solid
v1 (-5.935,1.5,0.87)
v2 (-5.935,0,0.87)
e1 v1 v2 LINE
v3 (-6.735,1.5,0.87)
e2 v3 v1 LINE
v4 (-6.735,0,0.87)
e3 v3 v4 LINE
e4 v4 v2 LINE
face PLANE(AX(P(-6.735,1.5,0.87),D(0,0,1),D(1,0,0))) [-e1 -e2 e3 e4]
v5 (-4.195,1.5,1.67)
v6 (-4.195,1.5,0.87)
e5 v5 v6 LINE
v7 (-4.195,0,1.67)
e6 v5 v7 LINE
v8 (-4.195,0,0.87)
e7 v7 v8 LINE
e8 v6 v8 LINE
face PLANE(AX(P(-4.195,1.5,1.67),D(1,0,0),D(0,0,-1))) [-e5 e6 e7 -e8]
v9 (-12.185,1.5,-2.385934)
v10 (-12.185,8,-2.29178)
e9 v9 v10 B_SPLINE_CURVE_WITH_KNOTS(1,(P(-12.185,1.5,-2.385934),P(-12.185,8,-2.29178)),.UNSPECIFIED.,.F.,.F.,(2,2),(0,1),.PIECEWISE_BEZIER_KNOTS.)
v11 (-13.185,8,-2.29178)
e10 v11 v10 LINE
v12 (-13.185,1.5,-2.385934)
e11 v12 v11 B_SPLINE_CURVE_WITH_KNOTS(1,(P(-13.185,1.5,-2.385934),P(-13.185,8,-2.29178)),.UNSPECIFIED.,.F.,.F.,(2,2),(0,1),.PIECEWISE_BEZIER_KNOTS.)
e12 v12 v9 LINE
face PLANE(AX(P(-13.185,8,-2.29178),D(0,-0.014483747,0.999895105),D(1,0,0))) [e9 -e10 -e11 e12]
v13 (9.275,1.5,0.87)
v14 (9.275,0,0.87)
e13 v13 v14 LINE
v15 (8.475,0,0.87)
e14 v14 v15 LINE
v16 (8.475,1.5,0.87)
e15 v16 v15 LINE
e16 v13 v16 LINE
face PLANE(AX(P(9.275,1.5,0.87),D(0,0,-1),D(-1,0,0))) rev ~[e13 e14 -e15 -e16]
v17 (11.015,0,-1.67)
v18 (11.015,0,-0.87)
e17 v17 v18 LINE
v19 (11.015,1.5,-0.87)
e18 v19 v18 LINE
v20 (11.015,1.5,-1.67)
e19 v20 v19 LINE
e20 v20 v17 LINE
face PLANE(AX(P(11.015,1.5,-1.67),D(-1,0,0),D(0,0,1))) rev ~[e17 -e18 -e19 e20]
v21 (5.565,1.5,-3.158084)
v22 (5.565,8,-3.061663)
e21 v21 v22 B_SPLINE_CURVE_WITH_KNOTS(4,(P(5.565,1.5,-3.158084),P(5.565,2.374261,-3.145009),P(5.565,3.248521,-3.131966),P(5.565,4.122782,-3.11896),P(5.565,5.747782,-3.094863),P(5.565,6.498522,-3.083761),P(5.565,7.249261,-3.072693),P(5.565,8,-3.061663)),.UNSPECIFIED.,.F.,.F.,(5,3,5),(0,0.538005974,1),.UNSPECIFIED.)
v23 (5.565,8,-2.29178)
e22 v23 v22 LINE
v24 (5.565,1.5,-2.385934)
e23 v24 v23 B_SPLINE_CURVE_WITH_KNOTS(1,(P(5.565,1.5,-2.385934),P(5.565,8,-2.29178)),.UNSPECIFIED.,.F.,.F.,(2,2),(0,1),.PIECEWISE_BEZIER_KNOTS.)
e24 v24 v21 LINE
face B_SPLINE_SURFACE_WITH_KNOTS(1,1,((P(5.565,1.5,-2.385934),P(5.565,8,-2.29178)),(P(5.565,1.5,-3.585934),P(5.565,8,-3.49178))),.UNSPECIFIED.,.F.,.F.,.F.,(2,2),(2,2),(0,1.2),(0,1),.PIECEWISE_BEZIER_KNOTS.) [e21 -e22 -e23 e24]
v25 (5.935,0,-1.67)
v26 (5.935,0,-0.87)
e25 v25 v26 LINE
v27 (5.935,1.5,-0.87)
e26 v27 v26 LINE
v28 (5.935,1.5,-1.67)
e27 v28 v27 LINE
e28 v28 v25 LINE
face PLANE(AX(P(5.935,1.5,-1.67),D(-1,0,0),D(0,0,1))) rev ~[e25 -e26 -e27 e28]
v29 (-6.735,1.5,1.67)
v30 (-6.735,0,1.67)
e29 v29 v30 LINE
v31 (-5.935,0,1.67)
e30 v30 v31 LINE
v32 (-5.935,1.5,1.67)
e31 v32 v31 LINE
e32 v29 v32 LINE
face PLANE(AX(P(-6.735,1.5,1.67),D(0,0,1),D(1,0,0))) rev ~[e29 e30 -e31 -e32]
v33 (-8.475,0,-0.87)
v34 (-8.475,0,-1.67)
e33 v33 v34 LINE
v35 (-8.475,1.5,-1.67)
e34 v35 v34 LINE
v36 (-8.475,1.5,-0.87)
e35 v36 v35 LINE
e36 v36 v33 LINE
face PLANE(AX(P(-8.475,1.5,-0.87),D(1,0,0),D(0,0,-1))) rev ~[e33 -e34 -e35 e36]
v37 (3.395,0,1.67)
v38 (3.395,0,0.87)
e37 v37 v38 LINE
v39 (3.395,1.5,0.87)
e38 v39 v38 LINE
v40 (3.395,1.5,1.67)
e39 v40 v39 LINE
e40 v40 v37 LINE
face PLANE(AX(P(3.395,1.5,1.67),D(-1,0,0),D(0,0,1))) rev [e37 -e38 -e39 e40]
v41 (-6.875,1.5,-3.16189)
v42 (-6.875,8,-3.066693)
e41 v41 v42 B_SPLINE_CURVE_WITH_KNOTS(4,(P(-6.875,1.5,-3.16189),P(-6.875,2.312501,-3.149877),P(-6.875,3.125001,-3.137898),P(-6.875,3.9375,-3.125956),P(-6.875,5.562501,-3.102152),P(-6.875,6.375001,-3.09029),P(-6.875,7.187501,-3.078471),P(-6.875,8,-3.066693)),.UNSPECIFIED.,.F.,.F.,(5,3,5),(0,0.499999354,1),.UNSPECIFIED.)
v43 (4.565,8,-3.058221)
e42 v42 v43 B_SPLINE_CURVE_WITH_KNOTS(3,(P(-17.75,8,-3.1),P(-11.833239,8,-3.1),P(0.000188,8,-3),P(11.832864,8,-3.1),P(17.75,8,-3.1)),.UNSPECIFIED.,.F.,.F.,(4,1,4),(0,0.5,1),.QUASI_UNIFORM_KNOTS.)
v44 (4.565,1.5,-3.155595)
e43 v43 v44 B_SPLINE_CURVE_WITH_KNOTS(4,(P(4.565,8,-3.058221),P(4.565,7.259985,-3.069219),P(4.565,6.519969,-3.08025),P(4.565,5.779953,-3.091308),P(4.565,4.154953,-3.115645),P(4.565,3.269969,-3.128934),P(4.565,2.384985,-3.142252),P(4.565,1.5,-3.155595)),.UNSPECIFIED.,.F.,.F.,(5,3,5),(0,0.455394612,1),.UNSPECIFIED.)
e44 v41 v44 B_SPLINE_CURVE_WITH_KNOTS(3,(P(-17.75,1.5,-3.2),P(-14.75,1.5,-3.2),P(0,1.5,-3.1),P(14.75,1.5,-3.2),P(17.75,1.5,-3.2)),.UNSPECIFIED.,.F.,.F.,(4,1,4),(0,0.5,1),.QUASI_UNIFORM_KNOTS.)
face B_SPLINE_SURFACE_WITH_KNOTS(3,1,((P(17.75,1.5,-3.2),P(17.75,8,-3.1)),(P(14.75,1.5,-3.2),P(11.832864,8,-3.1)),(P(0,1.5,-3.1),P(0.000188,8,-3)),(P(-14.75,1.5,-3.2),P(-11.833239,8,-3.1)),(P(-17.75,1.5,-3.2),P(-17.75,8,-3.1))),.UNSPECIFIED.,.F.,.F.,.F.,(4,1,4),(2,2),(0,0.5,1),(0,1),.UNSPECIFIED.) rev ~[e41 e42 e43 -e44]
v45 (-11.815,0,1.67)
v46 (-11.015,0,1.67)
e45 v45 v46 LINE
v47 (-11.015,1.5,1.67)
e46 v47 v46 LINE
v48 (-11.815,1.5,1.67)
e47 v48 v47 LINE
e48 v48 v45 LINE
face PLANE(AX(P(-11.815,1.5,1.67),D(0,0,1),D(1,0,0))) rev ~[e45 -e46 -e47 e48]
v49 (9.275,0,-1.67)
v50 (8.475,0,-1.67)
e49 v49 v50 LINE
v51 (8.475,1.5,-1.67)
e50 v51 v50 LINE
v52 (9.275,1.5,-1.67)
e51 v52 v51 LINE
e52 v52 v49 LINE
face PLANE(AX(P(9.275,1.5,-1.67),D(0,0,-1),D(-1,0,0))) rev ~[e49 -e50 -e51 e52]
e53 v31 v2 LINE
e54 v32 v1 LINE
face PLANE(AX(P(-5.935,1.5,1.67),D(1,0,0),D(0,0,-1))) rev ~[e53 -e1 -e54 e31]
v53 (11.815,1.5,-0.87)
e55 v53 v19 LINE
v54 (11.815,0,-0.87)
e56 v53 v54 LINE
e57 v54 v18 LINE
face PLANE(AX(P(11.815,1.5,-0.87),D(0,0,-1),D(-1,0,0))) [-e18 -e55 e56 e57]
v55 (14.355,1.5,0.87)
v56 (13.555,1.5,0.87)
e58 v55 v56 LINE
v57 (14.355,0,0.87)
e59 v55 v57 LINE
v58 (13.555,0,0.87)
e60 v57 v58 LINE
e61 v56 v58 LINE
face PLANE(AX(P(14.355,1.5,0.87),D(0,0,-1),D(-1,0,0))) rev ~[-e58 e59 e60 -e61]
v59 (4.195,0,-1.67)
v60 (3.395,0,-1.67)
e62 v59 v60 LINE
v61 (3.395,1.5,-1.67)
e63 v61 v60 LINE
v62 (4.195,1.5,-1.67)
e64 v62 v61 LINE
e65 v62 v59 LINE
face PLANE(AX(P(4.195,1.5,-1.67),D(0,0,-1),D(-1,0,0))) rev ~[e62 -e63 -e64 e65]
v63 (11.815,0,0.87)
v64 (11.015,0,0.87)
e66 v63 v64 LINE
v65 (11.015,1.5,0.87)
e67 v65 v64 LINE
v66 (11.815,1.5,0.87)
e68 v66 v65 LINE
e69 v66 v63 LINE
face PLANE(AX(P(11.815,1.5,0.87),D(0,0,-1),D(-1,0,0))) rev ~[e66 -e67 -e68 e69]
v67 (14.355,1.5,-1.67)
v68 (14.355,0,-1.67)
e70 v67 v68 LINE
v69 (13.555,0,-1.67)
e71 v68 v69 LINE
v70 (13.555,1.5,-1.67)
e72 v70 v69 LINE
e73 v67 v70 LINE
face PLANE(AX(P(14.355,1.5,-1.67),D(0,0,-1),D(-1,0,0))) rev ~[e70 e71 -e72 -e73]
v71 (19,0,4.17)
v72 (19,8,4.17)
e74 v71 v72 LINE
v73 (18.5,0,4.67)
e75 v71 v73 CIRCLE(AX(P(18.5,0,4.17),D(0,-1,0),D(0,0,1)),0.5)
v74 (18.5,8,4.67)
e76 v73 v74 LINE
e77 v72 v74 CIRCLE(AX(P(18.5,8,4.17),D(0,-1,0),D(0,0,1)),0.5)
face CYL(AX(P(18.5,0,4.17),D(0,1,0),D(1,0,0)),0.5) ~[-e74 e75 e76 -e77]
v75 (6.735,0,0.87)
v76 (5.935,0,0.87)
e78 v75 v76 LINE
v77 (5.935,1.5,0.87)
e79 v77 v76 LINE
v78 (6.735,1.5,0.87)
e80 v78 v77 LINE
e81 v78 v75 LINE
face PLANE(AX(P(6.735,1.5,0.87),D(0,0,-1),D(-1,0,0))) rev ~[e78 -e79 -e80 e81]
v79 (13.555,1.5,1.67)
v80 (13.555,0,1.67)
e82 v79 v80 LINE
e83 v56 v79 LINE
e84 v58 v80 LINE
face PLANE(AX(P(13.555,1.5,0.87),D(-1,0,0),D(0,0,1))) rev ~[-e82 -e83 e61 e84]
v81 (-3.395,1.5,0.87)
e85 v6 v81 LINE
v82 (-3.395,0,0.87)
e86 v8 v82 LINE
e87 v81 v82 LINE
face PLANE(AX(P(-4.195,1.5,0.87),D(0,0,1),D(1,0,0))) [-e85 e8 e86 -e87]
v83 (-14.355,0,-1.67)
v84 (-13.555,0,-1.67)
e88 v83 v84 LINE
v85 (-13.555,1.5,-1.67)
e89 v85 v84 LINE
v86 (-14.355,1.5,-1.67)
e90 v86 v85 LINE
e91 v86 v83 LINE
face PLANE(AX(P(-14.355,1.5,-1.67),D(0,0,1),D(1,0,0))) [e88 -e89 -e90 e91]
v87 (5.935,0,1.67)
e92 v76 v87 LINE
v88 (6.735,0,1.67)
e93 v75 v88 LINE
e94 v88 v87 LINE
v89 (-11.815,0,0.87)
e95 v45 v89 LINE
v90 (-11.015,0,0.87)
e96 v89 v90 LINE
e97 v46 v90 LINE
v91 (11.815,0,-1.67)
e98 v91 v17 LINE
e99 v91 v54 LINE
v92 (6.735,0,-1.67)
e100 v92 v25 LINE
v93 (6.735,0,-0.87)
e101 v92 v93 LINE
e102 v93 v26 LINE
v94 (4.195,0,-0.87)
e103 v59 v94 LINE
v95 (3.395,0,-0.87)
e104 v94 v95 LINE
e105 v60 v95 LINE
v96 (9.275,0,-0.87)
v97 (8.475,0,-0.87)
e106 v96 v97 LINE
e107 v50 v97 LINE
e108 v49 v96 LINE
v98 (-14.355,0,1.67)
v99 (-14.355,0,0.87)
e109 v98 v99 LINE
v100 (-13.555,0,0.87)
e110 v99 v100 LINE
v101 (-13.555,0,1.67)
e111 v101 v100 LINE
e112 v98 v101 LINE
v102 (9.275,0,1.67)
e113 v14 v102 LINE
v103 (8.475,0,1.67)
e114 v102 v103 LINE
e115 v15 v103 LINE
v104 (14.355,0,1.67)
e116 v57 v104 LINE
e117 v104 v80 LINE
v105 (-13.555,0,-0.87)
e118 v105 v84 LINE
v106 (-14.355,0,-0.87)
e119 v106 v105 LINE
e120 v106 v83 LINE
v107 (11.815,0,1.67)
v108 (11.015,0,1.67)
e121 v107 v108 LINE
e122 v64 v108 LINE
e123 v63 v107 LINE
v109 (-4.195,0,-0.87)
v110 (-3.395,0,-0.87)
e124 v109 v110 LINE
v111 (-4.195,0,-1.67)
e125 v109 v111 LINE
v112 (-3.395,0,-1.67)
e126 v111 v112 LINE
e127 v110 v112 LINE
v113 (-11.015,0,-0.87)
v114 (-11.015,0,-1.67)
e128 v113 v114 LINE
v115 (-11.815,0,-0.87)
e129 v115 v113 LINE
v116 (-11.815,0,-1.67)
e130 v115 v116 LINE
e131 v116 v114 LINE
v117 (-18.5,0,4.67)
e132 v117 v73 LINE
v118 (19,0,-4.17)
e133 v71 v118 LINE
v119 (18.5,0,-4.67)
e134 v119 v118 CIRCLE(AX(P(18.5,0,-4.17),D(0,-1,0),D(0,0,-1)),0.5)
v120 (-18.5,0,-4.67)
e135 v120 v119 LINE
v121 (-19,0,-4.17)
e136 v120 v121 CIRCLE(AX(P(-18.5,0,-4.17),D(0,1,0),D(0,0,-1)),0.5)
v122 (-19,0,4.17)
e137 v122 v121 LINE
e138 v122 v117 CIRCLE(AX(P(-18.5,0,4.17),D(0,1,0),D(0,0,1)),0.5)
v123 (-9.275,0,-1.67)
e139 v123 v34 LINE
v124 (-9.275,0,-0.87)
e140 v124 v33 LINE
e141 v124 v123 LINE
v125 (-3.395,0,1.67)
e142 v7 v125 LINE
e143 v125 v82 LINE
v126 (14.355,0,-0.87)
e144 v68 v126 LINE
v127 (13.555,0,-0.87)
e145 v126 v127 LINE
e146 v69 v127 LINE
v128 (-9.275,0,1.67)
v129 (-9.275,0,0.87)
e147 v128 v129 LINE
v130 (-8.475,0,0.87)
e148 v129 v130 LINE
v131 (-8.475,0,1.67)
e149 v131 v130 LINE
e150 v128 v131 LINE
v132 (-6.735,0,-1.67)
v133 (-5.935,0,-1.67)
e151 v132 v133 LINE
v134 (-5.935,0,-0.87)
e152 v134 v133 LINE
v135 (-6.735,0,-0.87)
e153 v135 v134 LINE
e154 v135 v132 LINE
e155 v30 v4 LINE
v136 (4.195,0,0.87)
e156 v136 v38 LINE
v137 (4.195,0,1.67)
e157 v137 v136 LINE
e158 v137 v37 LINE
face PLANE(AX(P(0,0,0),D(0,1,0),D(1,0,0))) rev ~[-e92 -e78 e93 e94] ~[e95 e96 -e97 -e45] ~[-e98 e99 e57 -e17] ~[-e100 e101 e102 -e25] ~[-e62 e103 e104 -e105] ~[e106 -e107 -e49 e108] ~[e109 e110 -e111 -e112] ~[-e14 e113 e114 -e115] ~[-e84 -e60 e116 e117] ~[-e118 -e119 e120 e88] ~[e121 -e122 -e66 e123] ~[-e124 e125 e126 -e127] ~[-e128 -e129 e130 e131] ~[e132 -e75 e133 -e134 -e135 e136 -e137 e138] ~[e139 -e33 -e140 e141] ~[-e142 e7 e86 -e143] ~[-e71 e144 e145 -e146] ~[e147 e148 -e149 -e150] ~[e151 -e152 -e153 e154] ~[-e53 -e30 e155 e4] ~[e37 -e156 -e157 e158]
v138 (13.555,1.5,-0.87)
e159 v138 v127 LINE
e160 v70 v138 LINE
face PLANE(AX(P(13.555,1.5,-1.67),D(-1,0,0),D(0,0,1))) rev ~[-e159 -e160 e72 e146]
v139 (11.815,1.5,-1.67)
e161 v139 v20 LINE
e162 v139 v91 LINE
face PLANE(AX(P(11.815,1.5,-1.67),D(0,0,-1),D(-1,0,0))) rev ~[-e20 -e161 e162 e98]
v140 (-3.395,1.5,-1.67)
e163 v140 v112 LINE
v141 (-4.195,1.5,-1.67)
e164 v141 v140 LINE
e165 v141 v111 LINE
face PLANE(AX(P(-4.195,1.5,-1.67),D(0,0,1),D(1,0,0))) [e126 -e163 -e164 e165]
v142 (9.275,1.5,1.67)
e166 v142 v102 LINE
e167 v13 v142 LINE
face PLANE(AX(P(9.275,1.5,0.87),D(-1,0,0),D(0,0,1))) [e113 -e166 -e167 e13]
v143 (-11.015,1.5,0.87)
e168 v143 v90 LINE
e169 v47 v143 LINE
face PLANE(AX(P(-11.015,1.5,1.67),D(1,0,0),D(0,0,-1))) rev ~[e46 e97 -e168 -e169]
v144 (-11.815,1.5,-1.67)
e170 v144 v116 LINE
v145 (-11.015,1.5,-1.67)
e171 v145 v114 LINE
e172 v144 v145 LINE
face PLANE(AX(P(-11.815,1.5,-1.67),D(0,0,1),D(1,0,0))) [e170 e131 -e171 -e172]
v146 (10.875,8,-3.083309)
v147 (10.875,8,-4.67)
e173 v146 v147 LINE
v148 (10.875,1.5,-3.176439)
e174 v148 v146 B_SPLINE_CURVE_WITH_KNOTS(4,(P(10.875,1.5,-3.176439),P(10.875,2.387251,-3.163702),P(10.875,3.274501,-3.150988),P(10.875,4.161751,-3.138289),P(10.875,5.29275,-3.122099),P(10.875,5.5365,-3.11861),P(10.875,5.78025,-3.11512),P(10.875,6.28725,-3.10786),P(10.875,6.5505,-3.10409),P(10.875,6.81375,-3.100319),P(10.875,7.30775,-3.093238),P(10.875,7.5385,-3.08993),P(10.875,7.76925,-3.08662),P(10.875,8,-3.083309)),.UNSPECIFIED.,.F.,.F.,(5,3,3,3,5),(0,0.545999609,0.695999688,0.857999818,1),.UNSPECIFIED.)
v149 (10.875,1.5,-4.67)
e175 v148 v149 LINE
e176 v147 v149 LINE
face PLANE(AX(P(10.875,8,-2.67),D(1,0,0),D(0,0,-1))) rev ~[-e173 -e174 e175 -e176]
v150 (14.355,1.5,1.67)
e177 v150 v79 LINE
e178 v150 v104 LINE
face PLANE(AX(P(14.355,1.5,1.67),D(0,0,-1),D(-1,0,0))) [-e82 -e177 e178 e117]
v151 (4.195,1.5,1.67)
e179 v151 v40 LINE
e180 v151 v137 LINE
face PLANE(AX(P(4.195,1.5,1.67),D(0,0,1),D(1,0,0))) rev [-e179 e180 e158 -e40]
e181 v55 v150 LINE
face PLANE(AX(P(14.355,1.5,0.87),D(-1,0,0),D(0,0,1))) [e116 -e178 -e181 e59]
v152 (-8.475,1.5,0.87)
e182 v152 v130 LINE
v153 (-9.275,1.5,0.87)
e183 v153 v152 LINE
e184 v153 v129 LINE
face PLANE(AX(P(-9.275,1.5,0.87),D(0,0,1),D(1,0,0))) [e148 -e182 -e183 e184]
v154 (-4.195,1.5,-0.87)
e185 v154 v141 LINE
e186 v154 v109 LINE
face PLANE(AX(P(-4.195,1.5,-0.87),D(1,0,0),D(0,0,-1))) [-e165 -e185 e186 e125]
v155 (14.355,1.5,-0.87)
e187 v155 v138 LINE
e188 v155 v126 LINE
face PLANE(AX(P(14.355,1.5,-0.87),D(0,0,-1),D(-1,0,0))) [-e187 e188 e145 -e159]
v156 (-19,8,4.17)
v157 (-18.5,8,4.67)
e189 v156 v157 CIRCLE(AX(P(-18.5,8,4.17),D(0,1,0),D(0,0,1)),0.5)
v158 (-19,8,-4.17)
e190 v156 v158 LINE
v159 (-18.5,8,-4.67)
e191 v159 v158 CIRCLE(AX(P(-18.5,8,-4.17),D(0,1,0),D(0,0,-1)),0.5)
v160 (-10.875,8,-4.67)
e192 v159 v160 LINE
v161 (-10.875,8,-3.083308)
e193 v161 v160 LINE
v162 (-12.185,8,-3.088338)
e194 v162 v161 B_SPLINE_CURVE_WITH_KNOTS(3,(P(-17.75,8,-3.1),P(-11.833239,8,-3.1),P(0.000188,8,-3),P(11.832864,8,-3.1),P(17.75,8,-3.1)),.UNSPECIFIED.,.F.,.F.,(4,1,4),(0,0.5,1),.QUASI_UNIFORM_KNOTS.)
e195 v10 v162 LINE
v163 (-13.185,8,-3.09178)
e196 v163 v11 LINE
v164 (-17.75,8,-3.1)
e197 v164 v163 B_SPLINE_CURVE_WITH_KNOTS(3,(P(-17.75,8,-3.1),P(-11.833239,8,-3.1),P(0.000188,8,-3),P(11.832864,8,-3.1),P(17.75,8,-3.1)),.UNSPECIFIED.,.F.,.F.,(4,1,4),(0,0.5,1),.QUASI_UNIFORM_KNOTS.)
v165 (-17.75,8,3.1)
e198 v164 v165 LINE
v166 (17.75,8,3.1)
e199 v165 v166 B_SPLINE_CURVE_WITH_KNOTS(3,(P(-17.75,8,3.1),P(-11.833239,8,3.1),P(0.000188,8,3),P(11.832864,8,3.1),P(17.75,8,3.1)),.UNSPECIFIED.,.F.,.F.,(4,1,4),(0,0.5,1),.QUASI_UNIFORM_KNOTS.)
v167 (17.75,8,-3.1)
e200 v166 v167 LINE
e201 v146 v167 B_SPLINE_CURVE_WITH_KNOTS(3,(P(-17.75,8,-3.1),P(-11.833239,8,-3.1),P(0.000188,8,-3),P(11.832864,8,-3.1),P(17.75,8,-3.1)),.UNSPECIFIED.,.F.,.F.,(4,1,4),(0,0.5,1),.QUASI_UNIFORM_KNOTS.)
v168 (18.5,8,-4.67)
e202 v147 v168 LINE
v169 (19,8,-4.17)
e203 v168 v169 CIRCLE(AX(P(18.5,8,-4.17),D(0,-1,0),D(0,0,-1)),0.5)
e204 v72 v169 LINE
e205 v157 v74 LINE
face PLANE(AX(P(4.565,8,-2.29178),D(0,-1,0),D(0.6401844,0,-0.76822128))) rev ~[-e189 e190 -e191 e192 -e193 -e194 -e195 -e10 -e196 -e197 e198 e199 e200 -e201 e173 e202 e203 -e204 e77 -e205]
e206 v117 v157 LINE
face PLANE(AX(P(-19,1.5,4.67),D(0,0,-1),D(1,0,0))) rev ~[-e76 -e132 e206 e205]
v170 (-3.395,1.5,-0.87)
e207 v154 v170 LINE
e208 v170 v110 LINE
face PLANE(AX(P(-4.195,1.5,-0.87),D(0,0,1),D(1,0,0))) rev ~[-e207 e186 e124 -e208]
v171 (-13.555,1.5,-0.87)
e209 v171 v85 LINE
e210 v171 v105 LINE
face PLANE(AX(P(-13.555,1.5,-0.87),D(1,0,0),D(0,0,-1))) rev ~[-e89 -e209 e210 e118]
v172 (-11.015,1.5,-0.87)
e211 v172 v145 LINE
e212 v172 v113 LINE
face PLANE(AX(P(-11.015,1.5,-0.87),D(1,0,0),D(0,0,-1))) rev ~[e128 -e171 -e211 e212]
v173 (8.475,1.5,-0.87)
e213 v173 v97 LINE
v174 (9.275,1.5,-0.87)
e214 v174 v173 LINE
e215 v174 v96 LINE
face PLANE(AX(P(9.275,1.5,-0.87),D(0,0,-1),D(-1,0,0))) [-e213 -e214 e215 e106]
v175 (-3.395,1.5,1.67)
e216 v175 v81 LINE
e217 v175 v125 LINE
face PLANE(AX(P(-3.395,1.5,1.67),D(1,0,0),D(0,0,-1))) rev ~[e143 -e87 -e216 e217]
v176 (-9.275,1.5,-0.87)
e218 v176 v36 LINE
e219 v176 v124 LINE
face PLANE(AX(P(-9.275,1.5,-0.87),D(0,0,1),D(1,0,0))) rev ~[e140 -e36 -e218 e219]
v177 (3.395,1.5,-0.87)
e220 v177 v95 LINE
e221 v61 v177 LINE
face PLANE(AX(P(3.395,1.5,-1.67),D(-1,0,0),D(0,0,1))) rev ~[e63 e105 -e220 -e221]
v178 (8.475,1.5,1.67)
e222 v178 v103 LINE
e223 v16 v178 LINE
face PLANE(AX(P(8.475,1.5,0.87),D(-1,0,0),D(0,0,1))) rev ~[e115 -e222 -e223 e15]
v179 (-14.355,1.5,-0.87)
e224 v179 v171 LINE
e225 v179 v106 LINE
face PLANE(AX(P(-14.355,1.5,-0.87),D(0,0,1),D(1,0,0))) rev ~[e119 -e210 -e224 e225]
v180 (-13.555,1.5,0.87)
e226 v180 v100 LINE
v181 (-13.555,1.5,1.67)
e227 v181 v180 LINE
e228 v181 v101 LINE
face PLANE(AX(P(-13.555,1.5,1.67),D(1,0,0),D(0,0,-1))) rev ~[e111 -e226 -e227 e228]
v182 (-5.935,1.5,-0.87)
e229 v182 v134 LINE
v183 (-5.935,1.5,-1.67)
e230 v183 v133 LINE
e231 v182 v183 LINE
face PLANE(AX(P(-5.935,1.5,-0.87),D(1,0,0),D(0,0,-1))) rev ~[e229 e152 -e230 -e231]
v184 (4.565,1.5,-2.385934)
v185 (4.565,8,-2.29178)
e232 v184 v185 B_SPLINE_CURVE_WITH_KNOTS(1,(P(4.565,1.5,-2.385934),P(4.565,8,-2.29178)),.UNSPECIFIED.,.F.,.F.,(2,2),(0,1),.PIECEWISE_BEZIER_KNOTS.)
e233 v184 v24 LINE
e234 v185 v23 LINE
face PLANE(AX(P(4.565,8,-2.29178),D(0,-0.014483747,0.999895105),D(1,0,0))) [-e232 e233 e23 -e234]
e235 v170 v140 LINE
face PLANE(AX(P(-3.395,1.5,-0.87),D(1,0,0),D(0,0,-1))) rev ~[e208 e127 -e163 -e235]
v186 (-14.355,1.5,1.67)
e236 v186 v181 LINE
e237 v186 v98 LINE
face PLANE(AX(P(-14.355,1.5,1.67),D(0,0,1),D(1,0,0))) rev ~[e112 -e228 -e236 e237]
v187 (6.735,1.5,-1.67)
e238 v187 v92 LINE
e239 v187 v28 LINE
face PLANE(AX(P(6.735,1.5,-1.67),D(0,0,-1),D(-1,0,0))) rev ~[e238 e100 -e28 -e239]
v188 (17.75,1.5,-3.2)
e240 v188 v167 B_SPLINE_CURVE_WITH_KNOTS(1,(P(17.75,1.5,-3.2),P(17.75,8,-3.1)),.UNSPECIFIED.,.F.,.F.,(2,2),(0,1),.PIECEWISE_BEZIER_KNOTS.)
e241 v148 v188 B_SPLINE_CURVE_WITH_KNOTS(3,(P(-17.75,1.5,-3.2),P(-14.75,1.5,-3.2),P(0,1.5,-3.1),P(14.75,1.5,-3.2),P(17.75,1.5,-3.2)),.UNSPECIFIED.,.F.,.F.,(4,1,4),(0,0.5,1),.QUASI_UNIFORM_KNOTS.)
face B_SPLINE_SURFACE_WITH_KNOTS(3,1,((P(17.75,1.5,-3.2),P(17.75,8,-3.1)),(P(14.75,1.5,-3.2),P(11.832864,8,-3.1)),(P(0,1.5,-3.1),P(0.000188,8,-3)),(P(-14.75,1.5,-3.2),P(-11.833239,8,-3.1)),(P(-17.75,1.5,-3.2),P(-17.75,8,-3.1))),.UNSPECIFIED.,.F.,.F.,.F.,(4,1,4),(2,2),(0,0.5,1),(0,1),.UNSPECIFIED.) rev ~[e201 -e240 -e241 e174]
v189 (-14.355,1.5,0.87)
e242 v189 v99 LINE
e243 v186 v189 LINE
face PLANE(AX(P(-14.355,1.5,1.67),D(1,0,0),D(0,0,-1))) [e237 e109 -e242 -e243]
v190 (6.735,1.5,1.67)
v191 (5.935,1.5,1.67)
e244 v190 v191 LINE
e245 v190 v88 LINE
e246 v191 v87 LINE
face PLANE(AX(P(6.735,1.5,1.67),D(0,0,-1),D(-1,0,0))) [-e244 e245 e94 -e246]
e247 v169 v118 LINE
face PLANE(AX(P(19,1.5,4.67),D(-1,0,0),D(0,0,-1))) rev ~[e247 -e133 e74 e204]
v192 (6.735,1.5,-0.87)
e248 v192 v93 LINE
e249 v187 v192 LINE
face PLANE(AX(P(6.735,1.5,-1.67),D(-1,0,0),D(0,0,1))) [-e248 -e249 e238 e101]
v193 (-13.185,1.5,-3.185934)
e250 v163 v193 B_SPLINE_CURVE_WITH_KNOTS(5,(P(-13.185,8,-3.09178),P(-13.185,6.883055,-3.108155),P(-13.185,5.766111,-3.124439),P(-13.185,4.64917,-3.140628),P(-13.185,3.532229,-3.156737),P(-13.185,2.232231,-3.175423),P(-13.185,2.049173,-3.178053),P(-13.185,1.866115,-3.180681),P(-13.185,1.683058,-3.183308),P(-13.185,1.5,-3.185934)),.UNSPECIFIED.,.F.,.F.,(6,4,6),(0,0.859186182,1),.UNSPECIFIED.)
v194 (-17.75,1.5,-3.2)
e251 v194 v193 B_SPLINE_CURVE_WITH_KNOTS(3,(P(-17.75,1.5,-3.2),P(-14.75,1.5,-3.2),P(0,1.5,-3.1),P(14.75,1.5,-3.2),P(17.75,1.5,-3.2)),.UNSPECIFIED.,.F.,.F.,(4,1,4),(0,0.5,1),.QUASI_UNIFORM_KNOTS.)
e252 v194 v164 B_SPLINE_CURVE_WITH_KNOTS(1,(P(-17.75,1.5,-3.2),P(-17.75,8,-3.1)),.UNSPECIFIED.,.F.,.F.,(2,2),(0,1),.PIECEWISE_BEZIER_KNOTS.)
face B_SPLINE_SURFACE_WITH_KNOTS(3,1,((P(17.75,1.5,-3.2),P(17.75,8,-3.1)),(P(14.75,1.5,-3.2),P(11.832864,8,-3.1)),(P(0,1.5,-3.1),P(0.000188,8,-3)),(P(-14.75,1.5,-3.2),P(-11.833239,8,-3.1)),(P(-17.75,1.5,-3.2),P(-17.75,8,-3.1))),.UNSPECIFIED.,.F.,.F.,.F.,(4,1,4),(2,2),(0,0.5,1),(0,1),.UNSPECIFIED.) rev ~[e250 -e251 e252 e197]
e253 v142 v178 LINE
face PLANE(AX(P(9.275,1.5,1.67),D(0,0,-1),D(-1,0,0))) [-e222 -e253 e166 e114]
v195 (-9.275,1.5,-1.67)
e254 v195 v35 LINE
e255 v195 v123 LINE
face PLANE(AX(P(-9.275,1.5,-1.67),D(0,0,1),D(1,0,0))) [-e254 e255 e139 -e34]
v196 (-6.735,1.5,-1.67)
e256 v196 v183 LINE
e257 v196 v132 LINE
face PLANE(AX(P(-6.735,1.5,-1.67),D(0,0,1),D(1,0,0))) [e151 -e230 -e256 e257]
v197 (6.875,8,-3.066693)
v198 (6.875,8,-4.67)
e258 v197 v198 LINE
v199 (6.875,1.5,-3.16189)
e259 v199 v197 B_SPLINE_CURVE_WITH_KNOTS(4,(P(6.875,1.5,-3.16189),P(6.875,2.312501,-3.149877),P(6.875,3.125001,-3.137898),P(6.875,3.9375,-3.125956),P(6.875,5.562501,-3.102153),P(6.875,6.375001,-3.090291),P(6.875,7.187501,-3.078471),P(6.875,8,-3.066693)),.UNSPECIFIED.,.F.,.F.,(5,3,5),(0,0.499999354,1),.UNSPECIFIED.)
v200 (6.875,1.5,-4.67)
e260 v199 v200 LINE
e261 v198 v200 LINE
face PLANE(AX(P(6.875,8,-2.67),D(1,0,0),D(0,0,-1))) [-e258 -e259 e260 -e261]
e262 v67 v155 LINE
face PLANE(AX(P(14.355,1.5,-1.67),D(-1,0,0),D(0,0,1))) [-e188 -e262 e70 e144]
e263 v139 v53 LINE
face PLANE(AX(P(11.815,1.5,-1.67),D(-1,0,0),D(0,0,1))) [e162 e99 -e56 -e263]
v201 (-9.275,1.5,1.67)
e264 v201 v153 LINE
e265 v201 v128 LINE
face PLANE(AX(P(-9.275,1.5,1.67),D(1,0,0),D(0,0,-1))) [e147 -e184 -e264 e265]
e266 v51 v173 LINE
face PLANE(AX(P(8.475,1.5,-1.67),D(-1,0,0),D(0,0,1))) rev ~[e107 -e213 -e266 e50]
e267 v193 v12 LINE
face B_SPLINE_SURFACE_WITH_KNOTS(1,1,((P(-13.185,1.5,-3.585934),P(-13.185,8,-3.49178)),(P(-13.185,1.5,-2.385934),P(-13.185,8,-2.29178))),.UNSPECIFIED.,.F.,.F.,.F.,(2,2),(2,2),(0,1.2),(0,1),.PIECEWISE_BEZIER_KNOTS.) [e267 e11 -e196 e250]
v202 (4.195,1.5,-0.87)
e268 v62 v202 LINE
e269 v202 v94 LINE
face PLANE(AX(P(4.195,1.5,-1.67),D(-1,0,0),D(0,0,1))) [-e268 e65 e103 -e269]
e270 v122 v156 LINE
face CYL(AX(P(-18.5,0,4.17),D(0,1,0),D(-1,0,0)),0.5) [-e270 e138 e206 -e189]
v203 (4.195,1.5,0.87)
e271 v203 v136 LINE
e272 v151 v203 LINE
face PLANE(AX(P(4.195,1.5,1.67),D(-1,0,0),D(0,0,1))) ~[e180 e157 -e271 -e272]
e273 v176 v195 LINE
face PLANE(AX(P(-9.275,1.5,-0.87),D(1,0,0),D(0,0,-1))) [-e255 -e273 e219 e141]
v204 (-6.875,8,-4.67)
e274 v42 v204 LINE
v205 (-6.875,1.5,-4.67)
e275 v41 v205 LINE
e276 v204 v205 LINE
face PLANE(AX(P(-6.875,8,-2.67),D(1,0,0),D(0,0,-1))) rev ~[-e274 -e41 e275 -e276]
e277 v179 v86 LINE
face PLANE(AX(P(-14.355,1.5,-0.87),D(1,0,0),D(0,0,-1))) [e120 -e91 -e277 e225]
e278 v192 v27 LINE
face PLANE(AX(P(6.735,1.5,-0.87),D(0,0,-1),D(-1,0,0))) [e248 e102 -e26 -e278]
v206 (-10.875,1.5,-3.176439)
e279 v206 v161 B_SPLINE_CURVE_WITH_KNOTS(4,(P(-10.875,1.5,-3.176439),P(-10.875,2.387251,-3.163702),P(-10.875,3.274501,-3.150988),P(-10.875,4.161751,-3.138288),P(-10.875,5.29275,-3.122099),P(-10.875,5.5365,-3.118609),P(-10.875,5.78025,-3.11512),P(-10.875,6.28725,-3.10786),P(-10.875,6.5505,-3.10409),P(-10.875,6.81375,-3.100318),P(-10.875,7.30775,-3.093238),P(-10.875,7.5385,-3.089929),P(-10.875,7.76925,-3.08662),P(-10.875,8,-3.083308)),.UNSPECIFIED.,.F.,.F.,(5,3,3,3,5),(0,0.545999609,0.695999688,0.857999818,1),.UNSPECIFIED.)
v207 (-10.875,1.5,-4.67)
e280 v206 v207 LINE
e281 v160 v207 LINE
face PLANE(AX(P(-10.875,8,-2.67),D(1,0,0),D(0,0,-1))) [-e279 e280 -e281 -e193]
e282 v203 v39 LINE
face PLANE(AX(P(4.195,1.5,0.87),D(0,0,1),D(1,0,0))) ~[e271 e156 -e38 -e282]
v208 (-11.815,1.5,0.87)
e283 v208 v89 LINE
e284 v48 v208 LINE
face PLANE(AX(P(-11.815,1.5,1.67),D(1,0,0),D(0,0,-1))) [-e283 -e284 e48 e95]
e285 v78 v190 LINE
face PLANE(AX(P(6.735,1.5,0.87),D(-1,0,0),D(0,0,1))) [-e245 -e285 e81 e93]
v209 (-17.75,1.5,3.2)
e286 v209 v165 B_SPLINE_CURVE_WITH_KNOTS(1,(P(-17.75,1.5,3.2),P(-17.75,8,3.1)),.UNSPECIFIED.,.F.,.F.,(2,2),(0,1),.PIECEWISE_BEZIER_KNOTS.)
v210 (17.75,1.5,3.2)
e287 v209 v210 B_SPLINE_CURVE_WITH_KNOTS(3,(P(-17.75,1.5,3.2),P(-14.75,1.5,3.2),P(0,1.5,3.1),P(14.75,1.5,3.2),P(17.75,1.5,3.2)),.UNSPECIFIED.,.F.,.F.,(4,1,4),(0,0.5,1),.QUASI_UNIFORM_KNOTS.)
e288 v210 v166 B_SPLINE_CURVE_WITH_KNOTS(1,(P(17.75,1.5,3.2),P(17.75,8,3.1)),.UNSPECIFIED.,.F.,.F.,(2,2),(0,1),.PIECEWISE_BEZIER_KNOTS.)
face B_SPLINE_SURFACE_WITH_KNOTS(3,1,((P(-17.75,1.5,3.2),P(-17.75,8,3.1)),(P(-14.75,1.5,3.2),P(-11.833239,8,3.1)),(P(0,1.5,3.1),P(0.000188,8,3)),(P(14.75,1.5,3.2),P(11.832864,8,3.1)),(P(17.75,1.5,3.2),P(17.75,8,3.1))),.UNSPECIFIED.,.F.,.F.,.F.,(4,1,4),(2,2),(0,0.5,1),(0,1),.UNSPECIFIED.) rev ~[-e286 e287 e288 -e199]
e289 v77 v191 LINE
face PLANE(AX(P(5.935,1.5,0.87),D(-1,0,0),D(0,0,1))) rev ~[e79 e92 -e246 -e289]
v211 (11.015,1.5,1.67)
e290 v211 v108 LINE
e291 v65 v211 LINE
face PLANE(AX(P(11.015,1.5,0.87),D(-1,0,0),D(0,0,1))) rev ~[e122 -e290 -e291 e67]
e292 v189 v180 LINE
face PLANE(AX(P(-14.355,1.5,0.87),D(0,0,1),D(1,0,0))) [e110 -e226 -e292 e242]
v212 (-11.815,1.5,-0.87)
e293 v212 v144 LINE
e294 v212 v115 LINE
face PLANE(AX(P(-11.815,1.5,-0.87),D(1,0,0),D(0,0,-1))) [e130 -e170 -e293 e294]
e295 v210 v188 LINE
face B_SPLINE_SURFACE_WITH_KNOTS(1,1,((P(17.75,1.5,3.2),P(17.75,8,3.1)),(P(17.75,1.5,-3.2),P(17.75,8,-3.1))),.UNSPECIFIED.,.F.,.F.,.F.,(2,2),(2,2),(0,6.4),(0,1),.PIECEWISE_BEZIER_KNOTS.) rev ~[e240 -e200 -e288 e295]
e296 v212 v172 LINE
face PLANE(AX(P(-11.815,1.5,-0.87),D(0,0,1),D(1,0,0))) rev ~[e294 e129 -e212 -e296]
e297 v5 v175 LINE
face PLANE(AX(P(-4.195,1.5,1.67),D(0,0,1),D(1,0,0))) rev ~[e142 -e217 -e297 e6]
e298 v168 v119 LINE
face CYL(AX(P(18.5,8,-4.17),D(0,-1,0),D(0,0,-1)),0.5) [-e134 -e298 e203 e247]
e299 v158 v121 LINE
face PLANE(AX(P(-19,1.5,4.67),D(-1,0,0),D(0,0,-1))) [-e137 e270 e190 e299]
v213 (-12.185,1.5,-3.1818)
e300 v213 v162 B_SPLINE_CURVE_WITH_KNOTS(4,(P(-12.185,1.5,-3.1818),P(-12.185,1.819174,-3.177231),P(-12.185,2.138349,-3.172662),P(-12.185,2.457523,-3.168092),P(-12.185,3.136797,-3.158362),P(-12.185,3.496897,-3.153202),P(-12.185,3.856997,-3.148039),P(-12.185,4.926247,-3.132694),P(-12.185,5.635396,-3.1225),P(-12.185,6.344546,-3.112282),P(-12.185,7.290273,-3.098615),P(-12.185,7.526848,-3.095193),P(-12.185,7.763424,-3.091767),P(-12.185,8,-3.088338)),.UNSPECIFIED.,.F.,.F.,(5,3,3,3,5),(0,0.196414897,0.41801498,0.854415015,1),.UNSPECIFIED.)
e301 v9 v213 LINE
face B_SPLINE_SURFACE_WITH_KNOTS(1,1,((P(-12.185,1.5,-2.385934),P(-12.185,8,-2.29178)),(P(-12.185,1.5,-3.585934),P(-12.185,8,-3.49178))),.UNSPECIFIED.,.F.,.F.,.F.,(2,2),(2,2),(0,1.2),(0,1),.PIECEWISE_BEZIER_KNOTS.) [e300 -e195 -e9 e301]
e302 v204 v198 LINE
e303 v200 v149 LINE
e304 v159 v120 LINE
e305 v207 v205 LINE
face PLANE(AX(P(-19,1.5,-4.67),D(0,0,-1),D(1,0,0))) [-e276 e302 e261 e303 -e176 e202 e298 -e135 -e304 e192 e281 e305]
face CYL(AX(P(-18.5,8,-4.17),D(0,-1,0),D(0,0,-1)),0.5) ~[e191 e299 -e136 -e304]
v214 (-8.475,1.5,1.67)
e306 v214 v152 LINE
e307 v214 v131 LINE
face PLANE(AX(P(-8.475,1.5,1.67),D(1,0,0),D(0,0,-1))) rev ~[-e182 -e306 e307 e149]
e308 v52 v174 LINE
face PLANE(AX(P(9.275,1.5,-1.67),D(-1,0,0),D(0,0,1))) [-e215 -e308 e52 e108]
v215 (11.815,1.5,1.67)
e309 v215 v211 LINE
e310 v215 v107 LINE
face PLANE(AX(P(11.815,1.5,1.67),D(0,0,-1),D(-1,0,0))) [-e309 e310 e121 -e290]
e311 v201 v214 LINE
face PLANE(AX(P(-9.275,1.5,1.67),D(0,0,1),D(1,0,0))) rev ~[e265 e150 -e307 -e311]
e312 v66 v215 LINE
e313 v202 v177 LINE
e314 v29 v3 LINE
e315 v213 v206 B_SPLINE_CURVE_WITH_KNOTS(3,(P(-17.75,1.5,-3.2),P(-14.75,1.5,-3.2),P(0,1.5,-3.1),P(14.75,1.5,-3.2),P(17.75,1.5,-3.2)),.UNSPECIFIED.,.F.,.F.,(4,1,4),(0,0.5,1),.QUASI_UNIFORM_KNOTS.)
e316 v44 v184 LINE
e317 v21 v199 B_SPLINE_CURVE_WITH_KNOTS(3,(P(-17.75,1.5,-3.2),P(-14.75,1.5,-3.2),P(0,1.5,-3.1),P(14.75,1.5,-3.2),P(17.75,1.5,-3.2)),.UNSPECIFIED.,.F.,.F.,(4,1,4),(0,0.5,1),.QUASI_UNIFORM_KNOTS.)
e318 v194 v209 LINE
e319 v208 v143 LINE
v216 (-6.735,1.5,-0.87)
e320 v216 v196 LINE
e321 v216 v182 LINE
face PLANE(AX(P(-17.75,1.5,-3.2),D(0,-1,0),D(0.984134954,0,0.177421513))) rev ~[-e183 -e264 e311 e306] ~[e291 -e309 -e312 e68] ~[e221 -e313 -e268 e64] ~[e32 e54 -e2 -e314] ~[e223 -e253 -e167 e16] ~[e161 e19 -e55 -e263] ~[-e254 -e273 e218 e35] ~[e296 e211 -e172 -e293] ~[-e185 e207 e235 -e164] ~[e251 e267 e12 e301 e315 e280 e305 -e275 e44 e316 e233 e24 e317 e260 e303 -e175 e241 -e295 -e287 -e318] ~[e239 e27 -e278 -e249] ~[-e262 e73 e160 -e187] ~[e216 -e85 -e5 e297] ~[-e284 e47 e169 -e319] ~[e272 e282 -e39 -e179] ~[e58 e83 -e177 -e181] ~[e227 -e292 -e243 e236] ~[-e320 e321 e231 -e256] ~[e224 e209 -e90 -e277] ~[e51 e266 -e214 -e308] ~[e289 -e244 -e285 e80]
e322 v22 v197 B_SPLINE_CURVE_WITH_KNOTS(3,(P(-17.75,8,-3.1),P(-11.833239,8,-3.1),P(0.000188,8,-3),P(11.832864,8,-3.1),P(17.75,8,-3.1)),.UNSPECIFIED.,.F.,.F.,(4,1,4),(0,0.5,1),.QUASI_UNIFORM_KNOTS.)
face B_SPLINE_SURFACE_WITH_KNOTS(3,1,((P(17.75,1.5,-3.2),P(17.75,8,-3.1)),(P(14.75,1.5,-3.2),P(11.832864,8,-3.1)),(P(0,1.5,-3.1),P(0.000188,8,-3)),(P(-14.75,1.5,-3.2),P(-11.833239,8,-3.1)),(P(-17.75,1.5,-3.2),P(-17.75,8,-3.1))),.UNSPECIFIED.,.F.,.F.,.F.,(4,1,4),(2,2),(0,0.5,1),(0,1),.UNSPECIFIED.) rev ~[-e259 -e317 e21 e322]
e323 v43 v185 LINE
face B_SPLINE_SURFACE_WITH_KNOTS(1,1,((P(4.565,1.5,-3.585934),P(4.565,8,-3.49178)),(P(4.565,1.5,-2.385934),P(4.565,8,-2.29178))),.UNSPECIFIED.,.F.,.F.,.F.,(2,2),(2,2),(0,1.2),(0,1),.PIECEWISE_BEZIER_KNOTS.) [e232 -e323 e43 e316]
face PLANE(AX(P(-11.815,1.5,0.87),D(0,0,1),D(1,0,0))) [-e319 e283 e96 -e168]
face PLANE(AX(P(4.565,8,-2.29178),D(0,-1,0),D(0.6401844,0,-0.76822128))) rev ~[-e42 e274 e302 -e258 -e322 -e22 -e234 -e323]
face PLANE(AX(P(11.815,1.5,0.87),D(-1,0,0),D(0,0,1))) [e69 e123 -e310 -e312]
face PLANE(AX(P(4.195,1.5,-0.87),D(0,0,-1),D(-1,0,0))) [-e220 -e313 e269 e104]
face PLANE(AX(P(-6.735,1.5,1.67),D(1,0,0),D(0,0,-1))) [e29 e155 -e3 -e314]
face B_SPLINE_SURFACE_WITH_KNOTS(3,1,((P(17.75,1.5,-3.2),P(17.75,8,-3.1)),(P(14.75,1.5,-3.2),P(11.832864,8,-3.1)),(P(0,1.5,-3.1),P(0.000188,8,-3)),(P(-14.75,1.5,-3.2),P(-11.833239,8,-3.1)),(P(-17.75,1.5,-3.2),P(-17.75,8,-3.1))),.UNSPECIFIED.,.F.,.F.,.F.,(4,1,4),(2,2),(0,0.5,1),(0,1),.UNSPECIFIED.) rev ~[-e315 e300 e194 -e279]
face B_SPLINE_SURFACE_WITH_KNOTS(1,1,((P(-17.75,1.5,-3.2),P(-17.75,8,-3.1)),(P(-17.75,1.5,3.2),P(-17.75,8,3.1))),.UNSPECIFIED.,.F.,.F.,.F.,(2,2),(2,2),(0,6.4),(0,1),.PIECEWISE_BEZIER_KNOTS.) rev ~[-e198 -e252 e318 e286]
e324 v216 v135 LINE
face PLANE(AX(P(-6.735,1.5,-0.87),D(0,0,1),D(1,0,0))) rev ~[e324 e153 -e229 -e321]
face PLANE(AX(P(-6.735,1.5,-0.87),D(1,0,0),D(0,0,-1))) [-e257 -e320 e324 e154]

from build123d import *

# Parameters (mm, degrees)
SKETCH15_W              = 38
SKETCH15_H              = 9.34
BOSS_EXTRUDE11_DEPTH    = 1.5
SKETCH16_W              = 38
SKETCH16_H              = 9.34
BOSS_EXTRUDE12_DEPTH    = 6.5
LPATTERN2_COUNT         = 2
LPATTERN2_PITCH         = 17.75
SKETCH10_W              = 4
SKETCH10_H              = 2
CUT_EXTRUDE2_DEPTH      = 6.5
SKETCH2_W               = 0.8
SKETCH2_H               = 0.8
CUT_EXTRUDE1_DEPTH      = 21.61695676
LPATTERN1_COUNT         = 5
LPATTERN1_PITCH         = 2.54
LPATTERN1_COUNT_DIR2    = 2
LPATTERN1_PITCH_DIR2    = 2.54
MIRROR1_COPY_1_SKETCH_W = 0.8
MIRROR1_COPY_1_SKETCH_H = 0.8
MIRROR1_COPY_1_DEPTH    = 21.61695676
MIRROR1_COPY_2_SKETCH_W = 0.8
MIRROR1_COPY_2_SKETCH_H = 0.8
MIRROR1_COPY_2_DEPTH    = 21.61695676
MIRROR1_COPY_3_SKETCH_W = 0.8
MIRROR1_COPY_3_SKETCH_H = 0.8
MIRROR1_COPY_3_DEPTH    = 21.61695676
MIRROR1_COPY_4_SKETCH_W = 0.8
MIRROR1_COPY_4_SKETCH_H = 0.8
MIRROR1_COPY_4_DEPTH    = 21.61695676
MIRROR1_COPY_5_SKETCH_W = 0.8
MIRROR1_COPY_5_SKETCH_H = 0.8
MIRROR1_COPY_5_DEPTH    = 21.61695676
MIRROR1_COPY_6_SKETCH_W = 0.8
MIRROR1_COPY_6_SKETCH_H = 0.8
MIRROR1_COPY_6_DEPTH    = 21.61695676
MIRROR1_COPY_7_SKETCH_W = 0.8
MIRROR1_COPY_7_SKETCH_H = 0.8
MIRROR1_COPY_7_DEPTH    = 21.61695676
MIRROR1_COPY_8_SKETCH_W = 0.8
MIRROR1_COPY_8_SKETCH_H = 0.8
MIRROR1_COPY_8_DEPTH    = 21.61695676
MIRROR1_COPY_9_SKETCH_W = 0.8
MIRROR1_COPY_9_SKETCH_H = 0.8
MIRROR1_COPY_9_DEPTH    = 21.61695676
FILLET6_R               = 0.5


with BuildPart() as part:
    # Sketch15 → Boss-Extrude11 (new body)
    with BuildSketch(Plane(origin=(0, 0, 0), x_dir=(1, 0, 0), z_dir=(0, 1, 0))):
        Rectangle(SKETCH15_W, SKETCH15_H)
    extrude(amount=BOSS_EXTRUDE11_DEPTH)

    # Sketch16 → Boss-Extrude12 (add)
    with BuildSketch(Plane(origin=(0, 1.5, 0), x_dir=(1, 0, 0), z_dir=(0, 1, 0))):
        Rectangle(SKETCH16_W, SKETCH16_H)
    extrude(amount=BOSS_EXTRUDE12_DEPTH)

    # Sketch5 → Cut-Loft1 section 0
    with BuildSketch(Plane(origin=(0, 1.5, 0), x_dir=(1, 0, 0), z_dir=(0, 1, 0))):
        with BuildLine():
            Line((-17.75, 3.2), (-17.75, -3.2))
            add(Edge.make_bspline(
                [(-17.75, -3.2), (-14.75, -3.2), (0, -3.1), (14.75, -3.2), (17.75, -3.2)],
                knots=[0, 0, 0, 0, 0.5, 1, 1, 1, 1], degree=3))
            Line((17.75, -3.2), (17.75, 3.2))
            add(Edge.make_bspline(
                [(-17.75, 3.2), (-14.75, 3.2), (0, 3.1), (14.75, 3.2), (17.75, 3.2)],
                knots=[0, 0, 0, 0, 0.5, 1, 1, 1, 1], degree=3))
        make_face()
    # Sketch6 → Cut-Loft1 section 1
    with BuildSketch(Plane(origin=(0, 8, 0), x_dir=(1, 0, 0), z_dir=(0, 1, 0))):
        with BuildLine():
            Line((-17.75, 3.1), (-17.75, -3.1))
            add(Edge.make_bspline(
                [(-17.75, -3.1), (-11.833239437, -3.1), (0.000187784, -3), (11.832863868, -3.1), (17.75, -3.1)],
                knots=[0, 0, 0, 0, 0.5, 1, 1, 1, 1], degree=3))
            Line((17.75, -3.1), (17.75, 3.1))
            add(Edge.make_bspline(
                [(-17.75, 3.1), (-11.833239437, 3.1), (0.000187784, 3), (11.832863868, 3.1), (17.75, 3.1)],
                knots=[0, 0, 0, 0, 0.5, 1, 1, 1, 1], degree=3))
        make_face()
    loft(mode=Mode.SUBTRACT)

    # Sketch8 → Loft1 section 0
    with BuildSketch(Plane(origin=(0, 1.5, 0), x_dir=(1, 0, 0), z_dir=(0, 1, 0))):
        with BuildLine():
            Line((-13.185, 2.385934046), (-12.185, 2.385934046))
            Line((-12.185, 2.385934046), (-12.185, 3.585934046))
            Line((-12.185, 3.585934046), (-13.185, 3.585934046))
            Line((-13.185, 3.585934046), (-13.185, 2.385934046))
        make_face()
    # Sketch9 → Loft1 section 1
    with BuildSketch(Plane(origin=(0, 8, 0), x_dir=(1, 0, 0), z_dir=(0, 1, 0))):
        with BuildLine():
            Line((-13.185, 3.491779814), (-13.185, 2.291779814))
            Line((-13.185, 2.291779814), (-12.185, 2.291779814))
            Line((-12.185, 2.291779814), (-12.185, 3.491779814))
            Line((-12.185, 3.491779814), (-13.185, 3.491779814))
        make_face()
    loft1 = loft()

    # LPattern2: Loft1 ×2
    with Locations(*[(i * LPATTERN2_PITCH, 0, 0) for i in range(1, LPATTERN2_COUNT)]):
        add(loft1)

    # Sketch10 → Cut-Extrude2 (cut)
    with BuildSketch(Plane(origin=(0, 8, 0), x_dir=(1, 0, 0), z_dir=(0, 1, 0))):
        with Locations((-8.875, 3.67)):
            Rectangle(SKETCH10_W, SKETCH10_H)
        with Locations((8.875, 3.67)):
            Rectangle(SKETCH10_W, SKETCH10_H)
    extrude(amount=-CUT_EXTRUDE2_DEPTH, mode=Mode.SUBTRACT)

    # Sketch2 → Cut-Extrude1 (cut, through all)
    with BuildSketch(Plane(origin=(0, 1.5, 0), x_dir=(1, 0, 0), z_dir=(0, 1, 0))):
        with Locations((-3.795, -1.27)):
            Rectangle(SKETCH2_W, SKETCH2_H)
    cut_extrude1 = extrude(amount=-CUT_EXTRUDE1_DEPTH, mode=Mode.SUBTRACT)

    # LPattern1: Cut-Extrude1 5 × 2
    with Locations(*[(-i * LPATTERN1_PITCH, 0, -j * LPATTERN1_PITCH_DIR2) for i in range(LPATTERN1_COUNT) for j in range(LPATTERN1_COUNT_DIR2) if (i, j) != (0, 0)]):
        add(cut_extrude1, mode=Mode.SUBTRACT)

    # Mirror1: Cut-Extrude1 across plane
    add(cut_extrude1.mirror(Plane(origin=(0, 0, 0), x_dir=(0, 0, 1), z_dir=(1, 0, 0))), mode=Mode.SUBTRACT)

    # Mirror1 copy 1 sketch → Mirror1 copy 1 (cut, through all)
    with BuildSketch(Plane(origin=(0, 1.5, -2.54), x_dir=(-1, 0, 0), z_dir=(0, 1, 0))):
        with Locations((-3.795, 1.27)):
            Rectangle(MIRROR1_COPY_1_SKETCH_W, MIRROR1_COPY_1_SKETCH_H)
    extrude(amount=-MIRROR1_COPY_1_DEPTH, mode=Mode.SUBTRACT)

    # Mirror1 copy 2 sketch → Mirror1 copy 2 (cut, through all)
    with BuildSketch(Plane(origin=(2.54, 1.5, 0), x_dir=(-1, 0, 0), z_dir=(0, 1, 0))):
        with Locations((-3.795, 1.27)):
            Rectangle(MIRROR1_COPY_2_SKETCH_W, MIRROR1_COPY_2_SKETCH_H)
    extrude(amount=-MIRROR1_COPY_2_DEPTH, mode=Mode.SUBTRACT)

    # Mirror1 copy 3 sketch → Mirror1 copy 3 (cut, through all)
    with BuildSketch(Plane(origin=(2.54, 1.5, -2.54), x_dir=(-1, 0, 0), z_dir=(0, 1, 0))):
        with Locations((-3.795, 1.27)):
            Rectangle(MIRROR1_COPY_3_SKETCH_W, MIRROR1_COPY_3_SKETCH_H)
    extrude(amount=-MIRROR1_COPY_3_DEPTH, mode=Mode.SUBTRACT)

    # Mirror1 copy 4 sketch → Mirror1 copy 4 (cut, through all)
    with BuildSketch(Plane(origin=(5.08, 1.5, 0), x_dir=(-1, 0, 0), z_dir=(0, 1, 0))):
        with Locations((-3.795, 1.27)):
            Rectangle(MIRROR1_COPY_4_SKETCH_W, MIRROR1_COPY_4_SKETCH_H)
    extrude(amount=-MIRROR1_COPY_4_DEPTH, mode=Mode.SUBTRACT)

    # Mirror1 copy 5 sketch → Mirror1 copy 5 (cut, through all)
    with BuildSketch(Plane(origin=(5.08, 1.5, -2.54), x_dir=(-1, 0, 0), z_dir=(0, 1, 0))):
        with Locations((-3.795, 1.27)):
            Rectangle(MIRROR1_COPY_5_SKETCH_W, MIRROR1_COPY_5_SKETCH_H)
    extrude(amount=-MIRROR1_COPY_5_DEPTH, mode=Mode.SUBTRACT)

    # Mirror1 copy 6 sketch → Mirror1 copy 6 (cut, through all)
    with BuildSketch(Plane(origin=(7.62, 1.5, 0), x_dir=(-1, 0, 0), z_dir=(0, 1, 0))):
        with Locations((-3.795, 1.27)):
            Rectangle(MIRROR1_COPY_6_SKETCH_W, MIRROR1_COPY_6_SKETCH_H)
    extrude(amount=-MIRROR1_COPY_6_DEPTH, mode=Mode.SUBTRACT)

    # Mirror1 copy 7 sketch → Mirror1 copy 7 (cut, through all)
    with BuildSketch(Plane(origin=(7.62, 1.5, -2.54), x_dir=(-1, 0, 0), z_dir=(0, 1, 0))):
        with Locations((-3.795, 1.27)):
            Rectangle(MIRROR1_COPY_7_SKETCH_W, MIRROR1_COPY_7_SKETCH_H)
    extrude(amount=-MIRROR1_COPY_7_DEPTH, mode=Mode.SUBTRACT)

    # Mirror1 copy 8 sketch → Mirror1 copy 8 (cut, through all)
    with BuildSketch(Plane(origin=(10.16, 1.5, 0), x_dir=(-1, 0, 0), z_dir=(0, 1, 0))):
        with Locations((-3.795, 1.27)):
            Rectangle(MIRROR1_COPY_8_SKETCH_W, MIRROR1_COPY_8_SKETCH_H)
    extrude(amount=-MIRROR1_COPY_8_DEPTH, mode=Mode.SUBTRACT)

    # Mirror1 copy 9 sketch → Mirror1 copy 9 (cut, through all)
    with BuildSketch(Plane(origin=(10.16, 1.5, -2.54), x_dir=(-1, 0, 0), z_dir=(0, 1, 0))):
        with Locations((-3.795, 1.27)):
            Rectangle(MIRROR1_COPY_9_SKETCH_W, MIRROR1_COPY_9_SKETCH_H)
    extrude(amount=-MIRROR1_COPY_9_DEPTH, mode=Mode.SUBTRACT)

    # Fillet6
    fillet6_edges = [part.edges().sort_by_distance(p)[0] for p in [
        (-19, 4, -4.67),
        (19, 4, -4.67),
        (19, 4, 4.67),
        (-19, 4, 4.67),
    ]]
    fillet(fillet6_edges, radius=FILLET6_R)


solid = part.part
